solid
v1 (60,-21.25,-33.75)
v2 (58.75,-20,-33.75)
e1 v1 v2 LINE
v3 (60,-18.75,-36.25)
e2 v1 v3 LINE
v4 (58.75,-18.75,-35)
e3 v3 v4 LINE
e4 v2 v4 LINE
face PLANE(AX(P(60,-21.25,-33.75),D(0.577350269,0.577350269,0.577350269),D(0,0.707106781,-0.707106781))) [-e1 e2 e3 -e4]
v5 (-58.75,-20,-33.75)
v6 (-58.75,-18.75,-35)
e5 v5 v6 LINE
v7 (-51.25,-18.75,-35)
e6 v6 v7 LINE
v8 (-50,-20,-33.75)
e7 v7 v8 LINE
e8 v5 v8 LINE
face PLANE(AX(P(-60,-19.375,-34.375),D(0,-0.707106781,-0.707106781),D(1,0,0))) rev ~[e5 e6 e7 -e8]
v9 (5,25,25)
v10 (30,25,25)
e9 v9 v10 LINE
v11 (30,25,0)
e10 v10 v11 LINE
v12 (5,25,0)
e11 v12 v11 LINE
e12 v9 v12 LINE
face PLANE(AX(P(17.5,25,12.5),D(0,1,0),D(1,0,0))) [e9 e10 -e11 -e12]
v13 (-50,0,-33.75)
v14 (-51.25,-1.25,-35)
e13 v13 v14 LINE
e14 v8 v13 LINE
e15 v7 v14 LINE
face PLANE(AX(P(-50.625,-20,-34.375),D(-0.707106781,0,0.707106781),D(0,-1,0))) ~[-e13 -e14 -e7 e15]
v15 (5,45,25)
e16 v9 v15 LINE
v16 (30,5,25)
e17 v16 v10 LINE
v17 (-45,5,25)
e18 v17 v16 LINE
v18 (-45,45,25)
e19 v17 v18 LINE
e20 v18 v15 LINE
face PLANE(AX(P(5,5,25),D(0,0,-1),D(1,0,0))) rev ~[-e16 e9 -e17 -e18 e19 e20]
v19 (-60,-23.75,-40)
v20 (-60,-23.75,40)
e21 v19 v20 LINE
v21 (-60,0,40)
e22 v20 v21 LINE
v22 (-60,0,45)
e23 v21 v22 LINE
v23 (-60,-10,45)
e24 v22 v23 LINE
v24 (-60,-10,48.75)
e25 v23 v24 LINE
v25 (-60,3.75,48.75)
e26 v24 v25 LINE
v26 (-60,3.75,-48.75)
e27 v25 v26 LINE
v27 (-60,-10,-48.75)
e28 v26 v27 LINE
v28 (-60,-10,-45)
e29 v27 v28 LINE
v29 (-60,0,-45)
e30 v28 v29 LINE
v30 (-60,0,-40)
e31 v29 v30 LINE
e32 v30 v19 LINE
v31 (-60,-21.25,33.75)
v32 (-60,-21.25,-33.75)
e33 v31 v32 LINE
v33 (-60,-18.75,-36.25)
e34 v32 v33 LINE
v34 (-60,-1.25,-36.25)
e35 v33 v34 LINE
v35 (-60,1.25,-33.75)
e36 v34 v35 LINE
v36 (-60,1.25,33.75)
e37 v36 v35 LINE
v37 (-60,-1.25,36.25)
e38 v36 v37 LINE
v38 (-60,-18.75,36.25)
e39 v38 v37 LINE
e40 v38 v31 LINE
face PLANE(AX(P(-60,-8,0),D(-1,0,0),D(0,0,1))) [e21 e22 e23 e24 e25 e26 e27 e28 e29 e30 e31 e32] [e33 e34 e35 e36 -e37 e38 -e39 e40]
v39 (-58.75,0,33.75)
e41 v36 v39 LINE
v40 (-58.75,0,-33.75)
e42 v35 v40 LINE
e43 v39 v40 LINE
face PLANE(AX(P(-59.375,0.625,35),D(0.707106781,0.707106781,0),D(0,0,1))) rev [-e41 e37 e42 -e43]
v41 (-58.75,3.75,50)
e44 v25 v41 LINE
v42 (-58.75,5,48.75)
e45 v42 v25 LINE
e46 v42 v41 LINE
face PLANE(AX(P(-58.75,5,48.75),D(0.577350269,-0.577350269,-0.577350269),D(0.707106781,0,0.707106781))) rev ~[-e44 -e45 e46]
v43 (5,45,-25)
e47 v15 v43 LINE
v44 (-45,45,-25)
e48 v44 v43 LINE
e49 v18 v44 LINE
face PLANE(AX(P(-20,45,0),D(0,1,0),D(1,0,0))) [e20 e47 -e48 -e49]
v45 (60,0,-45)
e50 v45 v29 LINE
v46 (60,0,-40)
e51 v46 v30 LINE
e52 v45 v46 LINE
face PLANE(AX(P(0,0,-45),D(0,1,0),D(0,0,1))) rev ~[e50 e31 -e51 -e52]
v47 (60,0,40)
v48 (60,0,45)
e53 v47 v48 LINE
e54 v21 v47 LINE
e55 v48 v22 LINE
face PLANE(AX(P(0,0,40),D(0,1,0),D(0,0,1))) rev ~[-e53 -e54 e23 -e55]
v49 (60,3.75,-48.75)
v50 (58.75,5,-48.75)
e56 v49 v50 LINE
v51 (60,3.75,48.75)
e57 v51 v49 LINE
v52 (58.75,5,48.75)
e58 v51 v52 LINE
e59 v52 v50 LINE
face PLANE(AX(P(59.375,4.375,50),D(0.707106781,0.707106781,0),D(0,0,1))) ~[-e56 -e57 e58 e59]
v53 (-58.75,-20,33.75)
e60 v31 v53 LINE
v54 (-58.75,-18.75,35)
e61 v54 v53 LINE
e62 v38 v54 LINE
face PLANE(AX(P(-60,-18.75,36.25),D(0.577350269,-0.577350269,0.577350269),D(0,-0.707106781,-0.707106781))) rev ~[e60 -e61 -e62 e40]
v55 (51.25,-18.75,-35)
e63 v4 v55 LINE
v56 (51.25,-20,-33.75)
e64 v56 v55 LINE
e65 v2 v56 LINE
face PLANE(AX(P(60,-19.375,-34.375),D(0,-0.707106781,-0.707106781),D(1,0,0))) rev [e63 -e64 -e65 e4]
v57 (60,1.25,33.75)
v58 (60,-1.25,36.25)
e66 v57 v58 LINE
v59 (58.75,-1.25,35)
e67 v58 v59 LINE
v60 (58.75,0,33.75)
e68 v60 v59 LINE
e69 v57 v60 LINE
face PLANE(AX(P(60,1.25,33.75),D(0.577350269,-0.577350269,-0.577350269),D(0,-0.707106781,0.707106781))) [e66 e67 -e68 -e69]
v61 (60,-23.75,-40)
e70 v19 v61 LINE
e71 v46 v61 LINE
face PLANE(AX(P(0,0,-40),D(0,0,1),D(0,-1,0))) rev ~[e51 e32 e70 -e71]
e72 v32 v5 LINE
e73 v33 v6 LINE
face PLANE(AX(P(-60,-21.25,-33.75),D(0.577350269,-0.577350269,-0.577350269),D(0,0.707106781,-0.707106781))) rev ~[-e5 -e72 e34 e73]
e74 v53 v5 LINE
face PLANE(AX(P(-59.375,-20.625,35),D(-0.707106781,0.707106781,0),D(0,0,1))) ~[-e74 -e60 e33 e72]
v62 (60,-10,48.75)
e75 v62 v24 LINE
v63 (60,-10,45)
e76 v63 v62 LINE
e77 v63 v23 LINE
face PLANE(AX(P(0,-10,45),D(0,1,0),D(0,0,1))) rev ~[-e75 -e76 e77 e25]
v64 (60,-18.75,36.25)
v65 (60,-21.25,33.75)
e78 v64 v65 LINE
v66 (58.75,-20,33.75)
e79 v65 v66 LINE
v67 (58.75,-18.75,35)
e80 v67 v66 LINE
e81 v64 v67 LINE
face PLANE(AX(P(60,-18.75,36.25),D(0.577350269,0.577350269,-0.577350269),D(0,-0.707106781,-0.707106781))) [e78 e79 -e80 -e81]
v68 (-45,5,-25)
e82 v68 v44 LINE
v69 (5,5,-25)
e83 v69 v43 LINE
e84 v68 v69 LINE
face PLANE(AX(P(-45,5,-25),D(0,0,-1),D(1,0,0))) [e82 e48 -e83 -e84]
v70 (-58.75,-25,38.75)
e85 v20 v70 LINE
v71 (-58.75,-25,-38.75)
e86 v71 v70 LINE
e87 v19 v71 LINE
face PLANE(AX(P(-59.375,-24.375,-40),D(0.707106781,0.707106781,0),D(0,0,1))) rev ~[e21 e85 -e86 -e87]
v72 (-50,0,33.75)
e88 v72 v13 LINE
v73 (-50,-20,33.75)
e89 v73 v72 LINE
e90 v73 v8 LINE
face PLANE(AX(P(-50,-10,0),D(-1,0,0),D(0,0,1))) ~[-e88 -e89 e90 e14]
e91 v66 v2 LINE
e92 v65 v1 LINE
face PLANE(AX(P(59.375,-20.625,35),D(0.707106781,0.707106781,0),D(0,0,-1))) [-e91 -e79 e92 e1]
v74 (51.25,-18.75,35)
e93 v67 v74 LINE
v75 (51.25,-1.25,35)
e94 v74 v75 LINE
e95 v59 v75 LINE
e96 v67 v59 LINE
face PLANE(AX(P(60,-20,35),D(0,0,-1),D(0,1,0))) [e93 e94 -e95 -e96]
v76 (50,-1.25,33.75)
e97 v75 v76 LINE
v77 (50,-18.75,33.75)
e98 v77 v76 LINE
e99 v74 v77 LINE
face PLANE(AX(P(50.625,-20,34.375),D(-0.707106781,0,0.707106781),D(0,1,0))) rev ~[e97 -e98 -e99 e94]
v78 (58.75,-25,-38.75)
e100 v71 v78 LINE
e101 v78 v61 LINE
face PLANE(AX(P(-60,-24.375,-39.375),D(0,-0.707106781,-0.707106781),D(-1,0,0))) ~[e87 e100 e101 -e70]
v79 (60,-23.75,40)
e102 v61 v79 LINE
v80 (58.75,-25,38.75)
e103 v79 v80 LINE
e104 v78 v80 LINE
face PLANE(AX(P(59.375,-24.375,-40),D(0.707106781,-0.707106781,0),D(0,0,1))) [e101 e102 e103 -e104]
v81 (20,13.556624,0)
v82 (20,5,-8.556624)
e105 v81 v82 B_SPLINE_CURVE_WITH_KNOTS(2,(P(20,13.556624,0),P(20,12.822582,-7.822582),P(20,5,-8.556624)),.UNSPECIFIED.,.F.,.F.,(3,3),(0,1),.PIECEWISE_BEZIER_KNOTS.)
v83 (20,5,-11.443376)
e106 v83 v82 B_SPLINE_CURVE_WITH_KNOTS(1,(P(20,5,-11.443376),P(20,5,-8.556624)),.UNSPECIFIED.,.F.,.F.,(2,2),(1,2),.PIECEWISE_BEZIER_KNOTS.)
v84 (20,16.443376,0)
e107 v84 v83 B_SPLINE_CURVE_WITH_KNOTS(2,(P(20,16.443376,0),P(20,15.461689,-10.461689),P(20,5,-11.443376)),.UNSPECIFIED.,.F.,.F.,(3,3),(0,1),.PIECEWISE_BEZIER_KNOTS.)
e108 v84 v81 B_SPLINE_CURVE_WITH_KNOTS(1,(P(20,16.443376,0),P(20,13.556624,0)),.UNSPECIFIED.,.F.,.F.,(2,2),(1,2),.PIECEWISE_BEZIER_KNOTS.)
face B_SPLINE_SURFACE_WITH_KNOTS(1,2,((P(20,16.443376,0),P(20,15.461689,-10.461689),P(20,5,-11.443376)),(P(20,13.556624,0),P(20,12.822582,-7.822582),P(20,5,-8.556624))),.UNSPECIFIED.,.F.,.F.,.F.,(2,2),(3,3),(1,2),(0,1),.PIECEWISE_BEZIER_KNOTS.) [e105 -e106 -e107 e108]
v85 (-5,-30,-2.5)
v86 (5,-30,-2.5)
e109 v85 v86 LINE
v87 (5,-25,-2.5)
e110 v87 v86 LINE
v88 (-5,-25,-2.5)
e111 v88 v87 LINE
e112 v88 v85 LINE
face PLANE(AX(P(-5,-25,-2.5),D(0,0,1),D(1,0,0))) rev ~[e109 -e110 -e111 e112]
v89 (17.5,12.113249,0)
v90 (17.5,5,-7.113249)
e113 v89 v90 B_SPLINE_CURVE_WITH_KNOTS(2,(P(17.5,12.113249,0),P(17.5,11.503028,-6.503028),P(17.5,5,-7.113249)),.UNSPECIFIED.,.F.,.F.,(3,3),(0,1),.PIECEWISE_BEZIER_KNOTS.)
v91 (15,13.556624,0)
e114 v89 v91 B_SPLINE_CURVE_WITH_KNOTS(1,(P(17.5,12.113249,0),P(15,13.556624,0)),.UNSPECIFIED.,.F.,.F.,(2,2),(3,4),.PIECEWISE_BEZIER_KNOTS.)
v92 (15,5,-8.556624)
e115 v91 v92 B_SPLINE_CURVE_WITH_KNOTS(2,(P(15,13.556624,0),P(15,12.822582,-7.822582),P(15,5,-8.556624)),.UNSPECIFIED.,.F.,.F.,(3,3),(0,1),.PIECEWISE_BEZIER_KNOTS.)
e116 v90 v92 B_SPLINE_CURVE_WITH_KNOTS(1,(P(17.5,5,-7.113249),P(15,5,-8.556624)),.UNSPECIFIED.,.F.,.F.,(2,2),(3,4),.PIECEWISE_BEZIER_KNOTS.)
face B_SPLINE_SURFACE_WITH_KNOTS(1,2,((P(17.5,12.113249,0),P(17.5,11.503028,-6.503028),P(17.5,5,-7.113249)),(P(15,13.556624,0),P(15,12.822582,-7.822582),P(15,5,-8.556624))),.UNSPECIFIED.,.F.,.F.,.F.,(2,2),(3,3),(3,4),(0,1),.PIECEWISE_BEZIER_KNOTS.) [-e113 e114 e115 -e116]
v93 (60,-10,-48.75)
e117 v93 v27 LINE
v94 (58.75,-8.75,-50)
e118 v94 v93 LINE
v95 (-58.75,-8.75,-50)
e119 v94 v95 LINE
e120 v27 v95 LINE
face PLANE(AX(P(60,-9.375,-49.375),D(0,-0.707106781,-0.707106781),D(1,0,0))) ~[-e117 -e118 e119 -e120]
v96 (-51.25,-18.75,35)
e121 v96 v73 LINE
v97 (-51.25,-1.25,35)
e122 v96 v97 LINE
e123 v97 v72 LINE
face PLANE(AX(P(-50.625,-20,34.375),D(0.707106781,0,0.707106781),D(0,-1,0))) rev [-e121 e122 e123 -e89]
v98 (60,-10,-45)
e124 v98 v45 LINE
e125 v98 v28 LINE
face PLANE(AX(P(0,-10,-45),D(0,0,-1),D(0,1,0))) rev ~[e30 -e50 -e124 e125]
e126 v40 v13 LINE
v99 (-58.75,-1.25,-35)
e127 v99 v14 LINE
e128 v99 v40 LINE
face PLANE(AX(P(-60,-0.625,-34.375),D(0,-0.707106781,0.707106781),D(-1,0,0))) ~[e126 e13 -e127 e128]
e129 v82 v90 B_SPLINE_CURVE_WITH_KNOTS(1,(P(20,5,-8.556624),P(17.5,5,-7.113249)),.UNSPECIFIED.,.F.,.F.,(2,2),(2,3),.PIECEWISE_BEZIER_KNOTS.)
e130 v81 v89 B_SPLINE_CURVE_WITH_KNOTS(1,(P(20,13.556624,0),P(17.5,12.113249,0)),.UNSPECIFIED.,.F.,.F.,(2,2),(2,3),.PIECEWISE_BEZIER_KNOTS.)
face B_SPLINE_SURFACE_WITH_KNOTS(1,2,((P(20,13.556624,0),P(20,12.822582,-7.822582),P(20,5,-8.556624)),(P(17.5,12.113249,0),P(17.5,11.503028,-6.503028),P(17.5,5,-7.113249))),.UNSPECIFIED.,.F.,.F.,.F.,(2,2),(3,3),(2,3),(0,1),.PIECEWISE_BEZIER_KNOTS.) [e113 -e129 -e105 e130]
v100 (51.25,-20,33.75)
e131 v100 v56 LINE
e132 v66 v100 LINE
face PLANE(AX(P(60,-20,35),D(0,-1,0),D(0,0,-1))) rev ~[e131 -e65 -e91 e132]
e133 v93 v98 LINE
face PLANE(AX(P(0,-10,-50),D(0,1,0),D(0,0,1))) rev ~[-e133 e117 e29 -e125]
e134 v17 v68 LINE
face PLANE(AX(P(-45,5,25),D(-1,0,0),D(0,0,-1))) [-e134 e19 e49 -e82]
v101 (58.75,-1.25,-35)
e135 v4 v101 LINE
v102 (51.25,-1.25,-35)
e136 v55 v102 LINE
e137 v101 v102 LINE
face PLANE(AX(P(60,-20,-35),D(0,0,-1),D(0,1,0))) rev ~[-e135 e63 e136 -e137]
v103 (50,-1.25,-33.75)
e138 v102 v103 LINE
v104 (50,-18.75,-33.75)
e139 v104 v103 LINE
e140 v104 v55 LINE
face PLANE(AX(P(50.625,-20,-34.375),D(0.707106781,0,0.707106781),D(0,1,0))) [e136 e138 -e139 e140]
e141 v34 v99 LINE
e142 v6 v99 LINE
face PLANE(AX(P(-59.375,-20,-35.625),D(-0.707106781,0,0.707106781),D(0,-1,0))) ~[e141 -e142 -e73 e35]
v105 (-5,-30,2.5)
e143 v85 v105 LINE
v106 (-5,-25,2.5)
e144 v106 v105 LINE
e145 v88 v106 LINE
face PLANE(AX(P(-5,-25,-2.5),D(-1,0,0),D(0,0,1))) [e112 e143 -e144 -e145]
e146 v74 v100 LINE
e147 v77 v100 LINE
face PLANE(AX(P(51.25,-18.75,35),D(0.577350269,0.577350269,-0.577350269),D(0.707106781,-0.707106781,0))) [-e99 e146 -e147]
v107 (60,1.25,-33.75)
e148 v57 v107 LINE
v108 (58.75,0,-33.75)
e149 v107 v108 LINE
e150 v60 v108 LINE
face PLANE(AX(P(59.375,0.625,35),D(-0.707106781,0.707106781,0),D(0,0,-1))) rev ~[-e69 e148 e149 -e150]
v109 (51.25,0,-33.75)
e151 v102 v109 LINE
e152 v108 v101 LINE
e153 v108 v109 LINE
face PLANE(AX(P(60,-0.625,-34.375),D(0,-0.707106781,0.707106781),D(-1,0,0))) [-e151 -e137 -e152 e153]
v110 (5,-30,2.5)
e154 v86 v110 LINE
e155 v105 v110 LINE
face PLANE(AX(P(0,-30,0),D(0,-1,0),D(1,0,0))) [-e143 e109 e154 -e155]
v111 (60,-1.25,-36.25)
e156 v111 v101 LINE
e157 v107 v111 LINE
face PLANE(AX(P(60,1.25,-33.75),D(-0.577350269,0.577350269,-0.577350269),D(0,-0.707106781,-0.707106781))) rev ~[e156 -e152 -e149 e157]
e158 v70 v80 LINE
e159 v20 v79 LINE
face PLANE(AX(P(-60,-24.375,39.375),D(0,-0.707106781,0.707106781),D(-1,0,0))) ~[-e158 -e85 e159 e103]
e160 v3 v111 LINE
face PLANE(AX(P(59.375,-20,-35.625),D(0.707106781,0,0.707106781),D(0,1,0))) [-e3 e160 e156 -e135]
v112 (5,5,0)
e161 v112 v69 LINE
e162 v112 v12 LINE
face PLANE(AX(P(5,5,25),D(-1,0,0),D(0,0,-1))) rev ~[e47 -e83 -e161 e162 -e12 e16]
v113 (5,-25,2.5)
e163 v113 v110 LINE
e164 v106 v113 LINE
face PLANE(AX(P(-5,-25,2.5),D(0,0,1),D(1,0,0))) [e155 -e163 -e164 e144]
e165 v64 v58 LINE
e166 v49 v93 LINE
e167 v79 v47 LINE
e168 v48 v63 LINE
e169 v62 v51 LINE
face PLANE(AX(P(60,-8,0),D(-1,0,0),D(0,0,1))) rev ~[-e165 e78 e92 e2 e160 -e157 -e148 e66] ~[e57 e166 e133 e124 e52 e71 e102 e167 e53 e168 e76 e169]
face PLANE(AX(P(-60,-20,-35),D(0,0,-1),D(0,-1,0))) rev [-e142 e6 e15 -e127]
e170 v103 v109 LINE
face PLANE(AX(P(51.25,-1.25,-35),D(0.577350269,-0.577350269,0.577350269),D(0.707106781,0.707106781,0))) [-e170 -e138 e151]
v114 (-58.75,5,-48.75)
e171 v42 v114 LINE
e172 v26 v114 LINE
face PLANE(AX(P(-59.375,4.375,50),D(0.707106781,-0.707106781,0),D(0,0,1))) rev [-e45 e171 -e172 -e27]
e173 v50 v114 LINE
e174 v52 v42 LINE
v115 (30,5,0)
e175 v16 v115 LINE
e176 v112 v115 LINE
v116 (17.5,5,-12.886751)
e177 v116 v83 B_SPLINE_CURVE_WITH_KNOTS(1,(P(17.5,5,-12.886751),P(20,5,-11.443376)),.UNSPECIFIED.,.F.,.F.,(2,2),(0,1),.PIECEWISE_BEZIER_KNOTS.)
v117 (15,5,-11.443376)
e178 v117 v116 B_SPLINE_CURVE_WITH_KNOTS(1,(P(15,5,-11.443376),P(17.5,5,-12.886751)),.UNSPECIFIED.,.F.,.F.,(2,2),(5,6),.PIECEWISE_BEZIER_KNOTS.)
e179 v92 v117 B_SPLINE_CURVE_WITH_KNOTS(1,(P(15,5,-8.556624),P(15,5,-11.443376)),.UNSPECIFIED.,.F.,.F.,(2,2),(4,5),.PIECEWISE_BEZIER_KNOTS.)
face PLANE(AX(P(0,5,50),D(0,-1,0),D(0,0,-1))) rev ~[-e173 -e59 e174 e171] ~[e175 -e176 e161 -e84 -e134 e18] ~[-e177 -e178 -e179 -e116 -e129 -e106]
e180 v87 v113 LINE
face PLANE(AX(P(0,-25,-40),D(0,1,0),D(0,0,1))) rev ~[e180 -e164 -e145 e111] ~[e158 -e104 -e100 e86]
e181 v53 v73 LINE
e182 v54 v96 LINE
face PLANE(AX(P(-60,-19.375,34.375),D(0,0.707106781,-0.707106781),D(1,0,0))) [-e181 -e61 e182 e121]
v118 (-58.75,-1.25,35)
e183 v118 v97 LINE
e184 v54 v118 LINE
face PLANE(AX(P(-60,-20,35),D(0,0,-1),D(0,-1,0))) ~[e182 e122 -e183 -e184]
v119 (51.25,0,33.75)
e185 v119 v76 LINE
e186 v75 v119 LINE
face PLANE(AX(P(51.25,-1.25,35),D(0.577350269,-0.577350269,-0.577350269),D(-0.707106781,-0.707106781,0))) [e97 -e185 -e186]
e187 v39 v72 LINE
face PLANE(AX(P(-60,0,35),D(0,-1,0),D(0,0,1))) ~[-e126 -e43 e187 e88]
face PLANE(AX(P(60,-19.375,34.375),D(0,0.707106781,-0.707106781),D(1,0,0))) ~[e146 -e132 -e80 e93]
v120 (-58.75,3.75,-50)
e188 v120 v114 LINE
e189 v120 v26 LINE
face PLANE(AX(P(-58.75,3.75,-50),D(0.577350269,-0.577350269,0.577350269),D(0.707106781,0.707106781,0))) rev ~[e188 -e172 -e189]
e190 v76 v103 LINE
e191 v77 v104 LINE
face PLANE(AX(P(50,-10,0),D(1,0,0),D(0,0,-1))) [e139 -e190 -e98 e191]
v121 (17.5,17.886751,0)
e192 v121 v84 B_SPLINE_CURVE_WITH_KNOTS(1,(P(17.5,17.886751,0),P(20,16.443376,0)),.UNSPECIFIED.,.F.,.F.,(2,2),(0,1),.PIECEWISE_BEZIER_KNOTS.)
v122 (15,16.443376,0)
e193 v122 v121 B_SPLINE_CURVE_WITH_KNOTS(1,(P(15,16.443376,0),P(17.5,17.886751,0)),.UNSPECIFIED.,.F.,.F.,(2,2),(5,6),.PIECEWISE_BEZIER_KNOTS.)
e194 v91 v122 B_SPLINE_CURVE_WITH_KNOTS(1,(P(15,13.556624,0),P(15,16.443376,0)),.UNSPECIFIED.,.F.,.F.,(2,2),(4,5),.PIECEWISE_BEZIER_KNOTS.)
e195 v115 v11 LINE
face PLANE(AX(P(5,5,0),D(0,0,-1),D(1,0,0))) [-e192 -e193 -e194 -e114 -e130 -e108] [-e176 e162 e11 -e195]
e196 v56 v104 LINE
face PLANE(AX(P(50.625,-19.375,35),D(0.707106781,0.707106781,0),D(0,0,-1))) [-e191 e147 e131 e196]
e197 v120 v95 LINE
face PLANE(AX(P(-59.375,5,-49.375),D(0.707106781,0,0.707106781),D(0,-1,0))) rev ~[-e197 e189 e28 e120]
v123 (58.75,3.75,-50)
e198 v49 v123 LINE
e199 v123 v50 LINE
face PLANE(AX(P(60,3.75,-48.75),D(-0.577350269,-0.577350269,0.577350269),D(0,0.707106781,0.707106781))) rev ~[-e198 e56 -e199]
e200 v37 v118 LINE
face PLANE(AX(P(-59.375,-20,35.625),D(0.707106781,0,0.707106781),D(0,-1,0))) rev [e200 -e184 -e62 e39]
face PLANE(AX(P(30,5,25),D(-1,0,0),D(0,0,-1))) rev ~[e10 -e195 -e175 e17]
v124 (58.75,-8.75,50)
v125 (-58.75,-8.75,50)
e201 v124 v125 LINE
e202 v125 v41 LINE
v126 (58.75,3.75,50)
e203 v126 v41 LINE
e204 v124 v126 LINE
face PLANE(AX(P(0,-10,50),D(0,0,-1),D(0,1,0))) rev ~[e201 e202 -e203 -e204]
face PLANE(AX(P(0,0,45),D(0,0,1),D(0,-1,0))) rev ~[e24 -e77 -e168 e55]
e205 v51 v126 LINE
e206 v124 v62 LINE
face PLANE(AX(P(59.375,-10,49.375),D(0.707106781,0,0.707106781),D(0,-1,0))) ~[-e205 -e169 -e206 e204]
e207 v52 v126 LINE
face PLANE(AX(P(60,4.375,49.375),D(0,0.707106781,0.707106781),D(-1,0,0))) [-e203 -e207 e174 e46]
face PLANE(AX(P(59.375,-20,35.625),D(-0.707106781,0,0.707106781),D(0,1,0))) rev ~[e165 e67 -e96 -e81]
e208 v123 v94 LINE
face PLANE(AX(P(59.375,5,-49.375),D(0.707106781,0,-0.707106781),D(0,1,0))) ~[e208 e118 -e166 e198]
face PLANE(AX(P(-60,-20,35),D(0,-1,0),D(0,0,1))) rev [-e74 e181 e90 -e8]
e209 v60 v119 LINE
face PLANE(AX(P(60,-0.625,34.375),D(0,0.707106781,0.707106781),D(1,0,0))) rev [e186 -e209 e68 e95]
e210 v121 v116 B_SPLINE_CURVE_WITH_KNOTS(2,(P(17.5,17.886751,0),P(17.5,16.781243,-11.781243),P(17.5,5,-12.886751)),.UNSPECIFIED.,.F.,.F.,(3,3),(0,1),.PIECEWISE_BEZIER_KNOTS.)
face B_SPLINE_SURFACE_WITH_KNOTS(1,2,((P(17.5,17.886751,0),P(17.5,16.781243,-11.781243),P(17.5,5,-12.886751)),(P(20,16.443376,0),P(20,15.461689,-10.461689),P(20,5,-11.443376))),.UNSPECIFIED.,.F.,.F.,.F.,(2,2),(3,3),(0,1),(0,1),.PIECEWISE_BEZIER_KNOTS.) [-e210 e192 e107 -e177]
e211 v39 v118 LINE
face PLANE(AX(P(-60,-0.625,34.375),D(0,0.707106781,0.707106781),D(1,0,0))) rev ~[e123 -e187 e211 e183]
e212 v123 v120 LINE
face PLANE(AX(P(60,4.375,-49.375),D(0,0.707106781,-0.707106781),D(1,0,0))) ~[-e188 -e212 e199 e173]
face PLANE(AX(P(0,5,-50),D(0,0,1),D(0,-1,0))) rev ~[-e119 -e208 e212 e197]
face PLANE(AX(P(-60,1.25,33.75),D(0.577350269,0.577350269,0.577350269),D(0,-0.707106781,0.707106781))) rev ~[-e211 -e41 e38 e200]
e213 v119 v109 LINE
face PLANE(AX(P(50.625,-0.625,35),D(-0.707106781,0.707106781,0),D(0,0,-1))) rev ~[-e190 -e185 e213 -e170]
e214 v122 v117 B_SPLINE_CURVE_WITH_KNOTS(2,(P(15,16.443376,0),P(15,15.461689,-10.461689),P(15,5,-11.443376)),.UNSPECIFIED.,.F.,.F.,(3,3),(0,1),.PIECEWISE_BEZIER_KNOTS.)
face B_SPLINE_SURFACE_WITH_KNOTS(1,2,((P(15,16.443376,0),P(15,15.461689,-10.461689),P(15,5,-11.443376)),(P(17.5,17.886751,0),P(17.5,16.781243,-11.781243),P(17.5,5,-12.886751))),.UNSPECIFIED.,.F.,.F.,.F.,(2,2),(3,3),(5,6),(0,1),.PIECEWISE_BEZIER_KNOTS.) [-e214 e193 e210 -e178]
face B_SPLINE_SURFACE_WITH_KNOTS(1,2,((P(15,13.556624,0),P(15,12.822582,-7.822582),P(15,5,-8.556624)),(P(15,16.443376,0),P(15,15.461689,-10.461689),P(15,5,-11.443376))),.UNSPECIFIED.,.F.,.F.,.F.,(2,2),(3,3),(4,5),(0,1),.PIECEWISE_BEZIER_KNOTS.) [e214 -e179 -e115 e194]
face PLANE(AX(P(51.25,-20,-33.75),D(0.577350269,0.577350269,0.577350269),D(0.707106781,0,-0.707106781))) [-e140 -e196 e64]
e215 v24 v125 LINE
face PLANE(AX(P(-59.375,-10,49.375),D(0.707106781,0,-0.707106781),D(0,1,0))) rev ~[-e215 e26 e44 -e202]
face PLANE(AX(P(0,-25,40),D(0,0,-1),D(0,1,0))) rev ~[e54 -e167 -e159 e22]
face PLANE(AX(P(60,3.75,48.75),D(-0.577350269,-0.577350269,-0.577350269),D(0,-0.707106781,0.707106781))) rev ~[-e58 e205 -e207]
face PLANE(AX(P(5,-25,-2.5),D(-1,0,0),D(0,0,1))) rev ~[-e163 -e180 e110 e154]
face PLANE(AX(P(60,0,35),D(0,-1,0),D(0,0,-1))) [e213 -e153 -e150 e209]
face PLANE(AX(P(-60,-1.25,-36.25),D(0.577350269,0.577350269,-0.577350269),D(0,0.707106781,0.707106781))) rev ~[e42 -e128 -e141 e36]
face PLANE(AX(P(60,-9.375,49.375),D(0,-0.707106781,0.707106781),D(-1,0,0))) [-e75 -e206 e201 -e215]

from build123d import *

# Parameters (mm, degrees)
BOSS_EXTRUDE1_DEPTH = 60
SKETCH2_W           = 50
SKETCH2_H           = 50
BOSS_EXTRUDE2_DEPTH = 40
SKETCH2_3_W         = 25
SKETCH2_3_H         = 25
BOSS_EXTRUDE3_DEPTH = 20
SKETCH7_W           = 70
SKETCH7_H           = 20
CUT_EXTRUDE1_DEPTH  = 10
SKETCH8_W           = 10
SKETCH8_H           = 5
BOSS_EXTRUDE4_DEPTH = 5
CHAMFER1_SIZE       = 1.25


with BuildPart() as part:
    # Sketch1 → Boss-Extrude1 (new body, symmetric)
    with BuildSketch(Plane(origin=(0, 0, 0), x_dir=(0, 0, -1), z_dir=(1, 0, 0))):
        Polygon((-40, 0), (-45, 0), (-45, -10), (-50, -10), (-50, 5), (50, 5), (50, -10), (45, -10), (45, 0), (40, 0), (40, -25), (-40, -25), align=None)
    extrude(amount=BOSS_EXTRUDE1_DEPTH, both=True)

    # Sketch2 → Boss-Extrude2 (add)
    with BuildSketch(Plane(origin=(0, 5, 0), x_dir=(1, 0, 0), z_dir=(0, 1, 0))):
        with Locations((-20, 0)):
            Rectangle(SKETCH2_W, SKETCH2_H)
    extrude(amount=BOSS_EXTRUDE2_DEPTH)

    # Sketch2<3> → Boss-Extrude3 (add)
    with BuildSketch(Plane(origin=(0, 5, 0), x_dir=(1, 0, 0), z_dir=(0, 1, 0))):
        with Locations((17.5, -12.5)):
            Rectangle(SKETCH2_3_W, SKETCH2_3_H)
    extrude(amount=BOSS_EXTRUDE3_DEPTH)

    # Sketch3 → Loft3 section 0
    with BuildSketch(Plane(origin=(0, 0, 0), x_dir=(-1, 0, 0), z_dir=(0, 0, -1))):
        Polygon((-17.5, 17.886751346), (-20, 16.443375673), (-20, 13.556624327), (-17.5, 12.113248654), (-15, 13.556624327), (-15, 16.443375673), align=None)
    # Sketch6 → Loft3 section 1
    with BuildSketch(Plane(origin=(0, 2.5, 2.5), x_dir=(1, 0, 0), z_dir=(0, 0.707106781, 0.707106781))):
        Polygon((17.5, 16.422285252), (15, 14.978909579), (15, 12.092158233), (17.5, 10.64878256), (20, 12.092158233), (20, 14.978909579), align=None)
    # Sketch4 → Loft3 section 2
    with BuildSketch(Plane(origin=(0, 5, 0), x_dir=(1, 0, 0), z_dir=(0, 1, 0))):
        Polygon((17.5, 12.886751346), (15, 11.443375673), (15, 8.556624327), (17.5, 7.113248654), (20, 8.556624327), (20, 11.443375673), align=None)
    loft()

    # Sketch7 → Cut-Extrude1 (cut)
    with BuildSketch(Plane(origin=(60, 0, 0), x_dir=(0, 0, -1), z_dir=(1, 0, 0))):
        with Locations((0, -10)):
            Rectangle(SKETCH7_W, SKETCH7_H)
    cut_extrude1 = extrude(amount=-CUT_EXTRUDE1_DEPTH, mode=Mode.SUBTRACT)

    # Mirror1: Cut-Extrude1 across plane
    add(cut_extrude1.mirror(Plane(origin=(0, 0, 0), x_dir=(0, 0, 1), z_dir=(1, 0, 0))), mode=Mode.SUBTRACT)

    # Sketch8 → Boss-Extrude4 (add)
    with BuildSketch(Plane.XZ.offset(25)):
        Rectangle(SKETCH8_W, SKETCH8_H)
    extrude(amount=BOSS_EXTRUDE4_DEPTH)

    # Chamfer1
    chamfer1_edges = [part.edges().sort_by_distance(p)[0] for p in [
        (50, 0, 0),
        (55, 0, 35),
        (50, -10, -35),
        (55, 0, -35),
        (50, -20, 0),
        (55, -20, -35),
        (50, -10, 35),
        (55, -20, 35),
        (60, 0, 0),
        (60, -10, 35),
        (60, -20, 0),
        (60, -10, -35),
        (-60, 0, 0),
        (-55, 0, -35),
        (-60, -2.5, 50),
        (-60, -10, 35),
        (-55, 0, 35),
        (-60, -20, 0),
        (-55, -20, 35),
        (-60, -10, -35),
        (-55, -20, -35),
        (-50, -10, 35),
        (-50, -10, -35),
        (-60, 5, 0),
        (-60, -2.5, -50),
        (-60, -25, 0),
        (0, -10, 50),
        (0, 5, 50),
        (0, 5, -50),
        (0, -10, -50),
        (0, -25, -40),
        (0, -25, 40),
        (60, -2.5, -50),
        (60, 5, 0),
        (60, -2.5, 50),
        (60, -25, 0),
    ]]
    chamfer(chamfer1_edges, length=CHAMFER1_SIZE)


solid = part.part
